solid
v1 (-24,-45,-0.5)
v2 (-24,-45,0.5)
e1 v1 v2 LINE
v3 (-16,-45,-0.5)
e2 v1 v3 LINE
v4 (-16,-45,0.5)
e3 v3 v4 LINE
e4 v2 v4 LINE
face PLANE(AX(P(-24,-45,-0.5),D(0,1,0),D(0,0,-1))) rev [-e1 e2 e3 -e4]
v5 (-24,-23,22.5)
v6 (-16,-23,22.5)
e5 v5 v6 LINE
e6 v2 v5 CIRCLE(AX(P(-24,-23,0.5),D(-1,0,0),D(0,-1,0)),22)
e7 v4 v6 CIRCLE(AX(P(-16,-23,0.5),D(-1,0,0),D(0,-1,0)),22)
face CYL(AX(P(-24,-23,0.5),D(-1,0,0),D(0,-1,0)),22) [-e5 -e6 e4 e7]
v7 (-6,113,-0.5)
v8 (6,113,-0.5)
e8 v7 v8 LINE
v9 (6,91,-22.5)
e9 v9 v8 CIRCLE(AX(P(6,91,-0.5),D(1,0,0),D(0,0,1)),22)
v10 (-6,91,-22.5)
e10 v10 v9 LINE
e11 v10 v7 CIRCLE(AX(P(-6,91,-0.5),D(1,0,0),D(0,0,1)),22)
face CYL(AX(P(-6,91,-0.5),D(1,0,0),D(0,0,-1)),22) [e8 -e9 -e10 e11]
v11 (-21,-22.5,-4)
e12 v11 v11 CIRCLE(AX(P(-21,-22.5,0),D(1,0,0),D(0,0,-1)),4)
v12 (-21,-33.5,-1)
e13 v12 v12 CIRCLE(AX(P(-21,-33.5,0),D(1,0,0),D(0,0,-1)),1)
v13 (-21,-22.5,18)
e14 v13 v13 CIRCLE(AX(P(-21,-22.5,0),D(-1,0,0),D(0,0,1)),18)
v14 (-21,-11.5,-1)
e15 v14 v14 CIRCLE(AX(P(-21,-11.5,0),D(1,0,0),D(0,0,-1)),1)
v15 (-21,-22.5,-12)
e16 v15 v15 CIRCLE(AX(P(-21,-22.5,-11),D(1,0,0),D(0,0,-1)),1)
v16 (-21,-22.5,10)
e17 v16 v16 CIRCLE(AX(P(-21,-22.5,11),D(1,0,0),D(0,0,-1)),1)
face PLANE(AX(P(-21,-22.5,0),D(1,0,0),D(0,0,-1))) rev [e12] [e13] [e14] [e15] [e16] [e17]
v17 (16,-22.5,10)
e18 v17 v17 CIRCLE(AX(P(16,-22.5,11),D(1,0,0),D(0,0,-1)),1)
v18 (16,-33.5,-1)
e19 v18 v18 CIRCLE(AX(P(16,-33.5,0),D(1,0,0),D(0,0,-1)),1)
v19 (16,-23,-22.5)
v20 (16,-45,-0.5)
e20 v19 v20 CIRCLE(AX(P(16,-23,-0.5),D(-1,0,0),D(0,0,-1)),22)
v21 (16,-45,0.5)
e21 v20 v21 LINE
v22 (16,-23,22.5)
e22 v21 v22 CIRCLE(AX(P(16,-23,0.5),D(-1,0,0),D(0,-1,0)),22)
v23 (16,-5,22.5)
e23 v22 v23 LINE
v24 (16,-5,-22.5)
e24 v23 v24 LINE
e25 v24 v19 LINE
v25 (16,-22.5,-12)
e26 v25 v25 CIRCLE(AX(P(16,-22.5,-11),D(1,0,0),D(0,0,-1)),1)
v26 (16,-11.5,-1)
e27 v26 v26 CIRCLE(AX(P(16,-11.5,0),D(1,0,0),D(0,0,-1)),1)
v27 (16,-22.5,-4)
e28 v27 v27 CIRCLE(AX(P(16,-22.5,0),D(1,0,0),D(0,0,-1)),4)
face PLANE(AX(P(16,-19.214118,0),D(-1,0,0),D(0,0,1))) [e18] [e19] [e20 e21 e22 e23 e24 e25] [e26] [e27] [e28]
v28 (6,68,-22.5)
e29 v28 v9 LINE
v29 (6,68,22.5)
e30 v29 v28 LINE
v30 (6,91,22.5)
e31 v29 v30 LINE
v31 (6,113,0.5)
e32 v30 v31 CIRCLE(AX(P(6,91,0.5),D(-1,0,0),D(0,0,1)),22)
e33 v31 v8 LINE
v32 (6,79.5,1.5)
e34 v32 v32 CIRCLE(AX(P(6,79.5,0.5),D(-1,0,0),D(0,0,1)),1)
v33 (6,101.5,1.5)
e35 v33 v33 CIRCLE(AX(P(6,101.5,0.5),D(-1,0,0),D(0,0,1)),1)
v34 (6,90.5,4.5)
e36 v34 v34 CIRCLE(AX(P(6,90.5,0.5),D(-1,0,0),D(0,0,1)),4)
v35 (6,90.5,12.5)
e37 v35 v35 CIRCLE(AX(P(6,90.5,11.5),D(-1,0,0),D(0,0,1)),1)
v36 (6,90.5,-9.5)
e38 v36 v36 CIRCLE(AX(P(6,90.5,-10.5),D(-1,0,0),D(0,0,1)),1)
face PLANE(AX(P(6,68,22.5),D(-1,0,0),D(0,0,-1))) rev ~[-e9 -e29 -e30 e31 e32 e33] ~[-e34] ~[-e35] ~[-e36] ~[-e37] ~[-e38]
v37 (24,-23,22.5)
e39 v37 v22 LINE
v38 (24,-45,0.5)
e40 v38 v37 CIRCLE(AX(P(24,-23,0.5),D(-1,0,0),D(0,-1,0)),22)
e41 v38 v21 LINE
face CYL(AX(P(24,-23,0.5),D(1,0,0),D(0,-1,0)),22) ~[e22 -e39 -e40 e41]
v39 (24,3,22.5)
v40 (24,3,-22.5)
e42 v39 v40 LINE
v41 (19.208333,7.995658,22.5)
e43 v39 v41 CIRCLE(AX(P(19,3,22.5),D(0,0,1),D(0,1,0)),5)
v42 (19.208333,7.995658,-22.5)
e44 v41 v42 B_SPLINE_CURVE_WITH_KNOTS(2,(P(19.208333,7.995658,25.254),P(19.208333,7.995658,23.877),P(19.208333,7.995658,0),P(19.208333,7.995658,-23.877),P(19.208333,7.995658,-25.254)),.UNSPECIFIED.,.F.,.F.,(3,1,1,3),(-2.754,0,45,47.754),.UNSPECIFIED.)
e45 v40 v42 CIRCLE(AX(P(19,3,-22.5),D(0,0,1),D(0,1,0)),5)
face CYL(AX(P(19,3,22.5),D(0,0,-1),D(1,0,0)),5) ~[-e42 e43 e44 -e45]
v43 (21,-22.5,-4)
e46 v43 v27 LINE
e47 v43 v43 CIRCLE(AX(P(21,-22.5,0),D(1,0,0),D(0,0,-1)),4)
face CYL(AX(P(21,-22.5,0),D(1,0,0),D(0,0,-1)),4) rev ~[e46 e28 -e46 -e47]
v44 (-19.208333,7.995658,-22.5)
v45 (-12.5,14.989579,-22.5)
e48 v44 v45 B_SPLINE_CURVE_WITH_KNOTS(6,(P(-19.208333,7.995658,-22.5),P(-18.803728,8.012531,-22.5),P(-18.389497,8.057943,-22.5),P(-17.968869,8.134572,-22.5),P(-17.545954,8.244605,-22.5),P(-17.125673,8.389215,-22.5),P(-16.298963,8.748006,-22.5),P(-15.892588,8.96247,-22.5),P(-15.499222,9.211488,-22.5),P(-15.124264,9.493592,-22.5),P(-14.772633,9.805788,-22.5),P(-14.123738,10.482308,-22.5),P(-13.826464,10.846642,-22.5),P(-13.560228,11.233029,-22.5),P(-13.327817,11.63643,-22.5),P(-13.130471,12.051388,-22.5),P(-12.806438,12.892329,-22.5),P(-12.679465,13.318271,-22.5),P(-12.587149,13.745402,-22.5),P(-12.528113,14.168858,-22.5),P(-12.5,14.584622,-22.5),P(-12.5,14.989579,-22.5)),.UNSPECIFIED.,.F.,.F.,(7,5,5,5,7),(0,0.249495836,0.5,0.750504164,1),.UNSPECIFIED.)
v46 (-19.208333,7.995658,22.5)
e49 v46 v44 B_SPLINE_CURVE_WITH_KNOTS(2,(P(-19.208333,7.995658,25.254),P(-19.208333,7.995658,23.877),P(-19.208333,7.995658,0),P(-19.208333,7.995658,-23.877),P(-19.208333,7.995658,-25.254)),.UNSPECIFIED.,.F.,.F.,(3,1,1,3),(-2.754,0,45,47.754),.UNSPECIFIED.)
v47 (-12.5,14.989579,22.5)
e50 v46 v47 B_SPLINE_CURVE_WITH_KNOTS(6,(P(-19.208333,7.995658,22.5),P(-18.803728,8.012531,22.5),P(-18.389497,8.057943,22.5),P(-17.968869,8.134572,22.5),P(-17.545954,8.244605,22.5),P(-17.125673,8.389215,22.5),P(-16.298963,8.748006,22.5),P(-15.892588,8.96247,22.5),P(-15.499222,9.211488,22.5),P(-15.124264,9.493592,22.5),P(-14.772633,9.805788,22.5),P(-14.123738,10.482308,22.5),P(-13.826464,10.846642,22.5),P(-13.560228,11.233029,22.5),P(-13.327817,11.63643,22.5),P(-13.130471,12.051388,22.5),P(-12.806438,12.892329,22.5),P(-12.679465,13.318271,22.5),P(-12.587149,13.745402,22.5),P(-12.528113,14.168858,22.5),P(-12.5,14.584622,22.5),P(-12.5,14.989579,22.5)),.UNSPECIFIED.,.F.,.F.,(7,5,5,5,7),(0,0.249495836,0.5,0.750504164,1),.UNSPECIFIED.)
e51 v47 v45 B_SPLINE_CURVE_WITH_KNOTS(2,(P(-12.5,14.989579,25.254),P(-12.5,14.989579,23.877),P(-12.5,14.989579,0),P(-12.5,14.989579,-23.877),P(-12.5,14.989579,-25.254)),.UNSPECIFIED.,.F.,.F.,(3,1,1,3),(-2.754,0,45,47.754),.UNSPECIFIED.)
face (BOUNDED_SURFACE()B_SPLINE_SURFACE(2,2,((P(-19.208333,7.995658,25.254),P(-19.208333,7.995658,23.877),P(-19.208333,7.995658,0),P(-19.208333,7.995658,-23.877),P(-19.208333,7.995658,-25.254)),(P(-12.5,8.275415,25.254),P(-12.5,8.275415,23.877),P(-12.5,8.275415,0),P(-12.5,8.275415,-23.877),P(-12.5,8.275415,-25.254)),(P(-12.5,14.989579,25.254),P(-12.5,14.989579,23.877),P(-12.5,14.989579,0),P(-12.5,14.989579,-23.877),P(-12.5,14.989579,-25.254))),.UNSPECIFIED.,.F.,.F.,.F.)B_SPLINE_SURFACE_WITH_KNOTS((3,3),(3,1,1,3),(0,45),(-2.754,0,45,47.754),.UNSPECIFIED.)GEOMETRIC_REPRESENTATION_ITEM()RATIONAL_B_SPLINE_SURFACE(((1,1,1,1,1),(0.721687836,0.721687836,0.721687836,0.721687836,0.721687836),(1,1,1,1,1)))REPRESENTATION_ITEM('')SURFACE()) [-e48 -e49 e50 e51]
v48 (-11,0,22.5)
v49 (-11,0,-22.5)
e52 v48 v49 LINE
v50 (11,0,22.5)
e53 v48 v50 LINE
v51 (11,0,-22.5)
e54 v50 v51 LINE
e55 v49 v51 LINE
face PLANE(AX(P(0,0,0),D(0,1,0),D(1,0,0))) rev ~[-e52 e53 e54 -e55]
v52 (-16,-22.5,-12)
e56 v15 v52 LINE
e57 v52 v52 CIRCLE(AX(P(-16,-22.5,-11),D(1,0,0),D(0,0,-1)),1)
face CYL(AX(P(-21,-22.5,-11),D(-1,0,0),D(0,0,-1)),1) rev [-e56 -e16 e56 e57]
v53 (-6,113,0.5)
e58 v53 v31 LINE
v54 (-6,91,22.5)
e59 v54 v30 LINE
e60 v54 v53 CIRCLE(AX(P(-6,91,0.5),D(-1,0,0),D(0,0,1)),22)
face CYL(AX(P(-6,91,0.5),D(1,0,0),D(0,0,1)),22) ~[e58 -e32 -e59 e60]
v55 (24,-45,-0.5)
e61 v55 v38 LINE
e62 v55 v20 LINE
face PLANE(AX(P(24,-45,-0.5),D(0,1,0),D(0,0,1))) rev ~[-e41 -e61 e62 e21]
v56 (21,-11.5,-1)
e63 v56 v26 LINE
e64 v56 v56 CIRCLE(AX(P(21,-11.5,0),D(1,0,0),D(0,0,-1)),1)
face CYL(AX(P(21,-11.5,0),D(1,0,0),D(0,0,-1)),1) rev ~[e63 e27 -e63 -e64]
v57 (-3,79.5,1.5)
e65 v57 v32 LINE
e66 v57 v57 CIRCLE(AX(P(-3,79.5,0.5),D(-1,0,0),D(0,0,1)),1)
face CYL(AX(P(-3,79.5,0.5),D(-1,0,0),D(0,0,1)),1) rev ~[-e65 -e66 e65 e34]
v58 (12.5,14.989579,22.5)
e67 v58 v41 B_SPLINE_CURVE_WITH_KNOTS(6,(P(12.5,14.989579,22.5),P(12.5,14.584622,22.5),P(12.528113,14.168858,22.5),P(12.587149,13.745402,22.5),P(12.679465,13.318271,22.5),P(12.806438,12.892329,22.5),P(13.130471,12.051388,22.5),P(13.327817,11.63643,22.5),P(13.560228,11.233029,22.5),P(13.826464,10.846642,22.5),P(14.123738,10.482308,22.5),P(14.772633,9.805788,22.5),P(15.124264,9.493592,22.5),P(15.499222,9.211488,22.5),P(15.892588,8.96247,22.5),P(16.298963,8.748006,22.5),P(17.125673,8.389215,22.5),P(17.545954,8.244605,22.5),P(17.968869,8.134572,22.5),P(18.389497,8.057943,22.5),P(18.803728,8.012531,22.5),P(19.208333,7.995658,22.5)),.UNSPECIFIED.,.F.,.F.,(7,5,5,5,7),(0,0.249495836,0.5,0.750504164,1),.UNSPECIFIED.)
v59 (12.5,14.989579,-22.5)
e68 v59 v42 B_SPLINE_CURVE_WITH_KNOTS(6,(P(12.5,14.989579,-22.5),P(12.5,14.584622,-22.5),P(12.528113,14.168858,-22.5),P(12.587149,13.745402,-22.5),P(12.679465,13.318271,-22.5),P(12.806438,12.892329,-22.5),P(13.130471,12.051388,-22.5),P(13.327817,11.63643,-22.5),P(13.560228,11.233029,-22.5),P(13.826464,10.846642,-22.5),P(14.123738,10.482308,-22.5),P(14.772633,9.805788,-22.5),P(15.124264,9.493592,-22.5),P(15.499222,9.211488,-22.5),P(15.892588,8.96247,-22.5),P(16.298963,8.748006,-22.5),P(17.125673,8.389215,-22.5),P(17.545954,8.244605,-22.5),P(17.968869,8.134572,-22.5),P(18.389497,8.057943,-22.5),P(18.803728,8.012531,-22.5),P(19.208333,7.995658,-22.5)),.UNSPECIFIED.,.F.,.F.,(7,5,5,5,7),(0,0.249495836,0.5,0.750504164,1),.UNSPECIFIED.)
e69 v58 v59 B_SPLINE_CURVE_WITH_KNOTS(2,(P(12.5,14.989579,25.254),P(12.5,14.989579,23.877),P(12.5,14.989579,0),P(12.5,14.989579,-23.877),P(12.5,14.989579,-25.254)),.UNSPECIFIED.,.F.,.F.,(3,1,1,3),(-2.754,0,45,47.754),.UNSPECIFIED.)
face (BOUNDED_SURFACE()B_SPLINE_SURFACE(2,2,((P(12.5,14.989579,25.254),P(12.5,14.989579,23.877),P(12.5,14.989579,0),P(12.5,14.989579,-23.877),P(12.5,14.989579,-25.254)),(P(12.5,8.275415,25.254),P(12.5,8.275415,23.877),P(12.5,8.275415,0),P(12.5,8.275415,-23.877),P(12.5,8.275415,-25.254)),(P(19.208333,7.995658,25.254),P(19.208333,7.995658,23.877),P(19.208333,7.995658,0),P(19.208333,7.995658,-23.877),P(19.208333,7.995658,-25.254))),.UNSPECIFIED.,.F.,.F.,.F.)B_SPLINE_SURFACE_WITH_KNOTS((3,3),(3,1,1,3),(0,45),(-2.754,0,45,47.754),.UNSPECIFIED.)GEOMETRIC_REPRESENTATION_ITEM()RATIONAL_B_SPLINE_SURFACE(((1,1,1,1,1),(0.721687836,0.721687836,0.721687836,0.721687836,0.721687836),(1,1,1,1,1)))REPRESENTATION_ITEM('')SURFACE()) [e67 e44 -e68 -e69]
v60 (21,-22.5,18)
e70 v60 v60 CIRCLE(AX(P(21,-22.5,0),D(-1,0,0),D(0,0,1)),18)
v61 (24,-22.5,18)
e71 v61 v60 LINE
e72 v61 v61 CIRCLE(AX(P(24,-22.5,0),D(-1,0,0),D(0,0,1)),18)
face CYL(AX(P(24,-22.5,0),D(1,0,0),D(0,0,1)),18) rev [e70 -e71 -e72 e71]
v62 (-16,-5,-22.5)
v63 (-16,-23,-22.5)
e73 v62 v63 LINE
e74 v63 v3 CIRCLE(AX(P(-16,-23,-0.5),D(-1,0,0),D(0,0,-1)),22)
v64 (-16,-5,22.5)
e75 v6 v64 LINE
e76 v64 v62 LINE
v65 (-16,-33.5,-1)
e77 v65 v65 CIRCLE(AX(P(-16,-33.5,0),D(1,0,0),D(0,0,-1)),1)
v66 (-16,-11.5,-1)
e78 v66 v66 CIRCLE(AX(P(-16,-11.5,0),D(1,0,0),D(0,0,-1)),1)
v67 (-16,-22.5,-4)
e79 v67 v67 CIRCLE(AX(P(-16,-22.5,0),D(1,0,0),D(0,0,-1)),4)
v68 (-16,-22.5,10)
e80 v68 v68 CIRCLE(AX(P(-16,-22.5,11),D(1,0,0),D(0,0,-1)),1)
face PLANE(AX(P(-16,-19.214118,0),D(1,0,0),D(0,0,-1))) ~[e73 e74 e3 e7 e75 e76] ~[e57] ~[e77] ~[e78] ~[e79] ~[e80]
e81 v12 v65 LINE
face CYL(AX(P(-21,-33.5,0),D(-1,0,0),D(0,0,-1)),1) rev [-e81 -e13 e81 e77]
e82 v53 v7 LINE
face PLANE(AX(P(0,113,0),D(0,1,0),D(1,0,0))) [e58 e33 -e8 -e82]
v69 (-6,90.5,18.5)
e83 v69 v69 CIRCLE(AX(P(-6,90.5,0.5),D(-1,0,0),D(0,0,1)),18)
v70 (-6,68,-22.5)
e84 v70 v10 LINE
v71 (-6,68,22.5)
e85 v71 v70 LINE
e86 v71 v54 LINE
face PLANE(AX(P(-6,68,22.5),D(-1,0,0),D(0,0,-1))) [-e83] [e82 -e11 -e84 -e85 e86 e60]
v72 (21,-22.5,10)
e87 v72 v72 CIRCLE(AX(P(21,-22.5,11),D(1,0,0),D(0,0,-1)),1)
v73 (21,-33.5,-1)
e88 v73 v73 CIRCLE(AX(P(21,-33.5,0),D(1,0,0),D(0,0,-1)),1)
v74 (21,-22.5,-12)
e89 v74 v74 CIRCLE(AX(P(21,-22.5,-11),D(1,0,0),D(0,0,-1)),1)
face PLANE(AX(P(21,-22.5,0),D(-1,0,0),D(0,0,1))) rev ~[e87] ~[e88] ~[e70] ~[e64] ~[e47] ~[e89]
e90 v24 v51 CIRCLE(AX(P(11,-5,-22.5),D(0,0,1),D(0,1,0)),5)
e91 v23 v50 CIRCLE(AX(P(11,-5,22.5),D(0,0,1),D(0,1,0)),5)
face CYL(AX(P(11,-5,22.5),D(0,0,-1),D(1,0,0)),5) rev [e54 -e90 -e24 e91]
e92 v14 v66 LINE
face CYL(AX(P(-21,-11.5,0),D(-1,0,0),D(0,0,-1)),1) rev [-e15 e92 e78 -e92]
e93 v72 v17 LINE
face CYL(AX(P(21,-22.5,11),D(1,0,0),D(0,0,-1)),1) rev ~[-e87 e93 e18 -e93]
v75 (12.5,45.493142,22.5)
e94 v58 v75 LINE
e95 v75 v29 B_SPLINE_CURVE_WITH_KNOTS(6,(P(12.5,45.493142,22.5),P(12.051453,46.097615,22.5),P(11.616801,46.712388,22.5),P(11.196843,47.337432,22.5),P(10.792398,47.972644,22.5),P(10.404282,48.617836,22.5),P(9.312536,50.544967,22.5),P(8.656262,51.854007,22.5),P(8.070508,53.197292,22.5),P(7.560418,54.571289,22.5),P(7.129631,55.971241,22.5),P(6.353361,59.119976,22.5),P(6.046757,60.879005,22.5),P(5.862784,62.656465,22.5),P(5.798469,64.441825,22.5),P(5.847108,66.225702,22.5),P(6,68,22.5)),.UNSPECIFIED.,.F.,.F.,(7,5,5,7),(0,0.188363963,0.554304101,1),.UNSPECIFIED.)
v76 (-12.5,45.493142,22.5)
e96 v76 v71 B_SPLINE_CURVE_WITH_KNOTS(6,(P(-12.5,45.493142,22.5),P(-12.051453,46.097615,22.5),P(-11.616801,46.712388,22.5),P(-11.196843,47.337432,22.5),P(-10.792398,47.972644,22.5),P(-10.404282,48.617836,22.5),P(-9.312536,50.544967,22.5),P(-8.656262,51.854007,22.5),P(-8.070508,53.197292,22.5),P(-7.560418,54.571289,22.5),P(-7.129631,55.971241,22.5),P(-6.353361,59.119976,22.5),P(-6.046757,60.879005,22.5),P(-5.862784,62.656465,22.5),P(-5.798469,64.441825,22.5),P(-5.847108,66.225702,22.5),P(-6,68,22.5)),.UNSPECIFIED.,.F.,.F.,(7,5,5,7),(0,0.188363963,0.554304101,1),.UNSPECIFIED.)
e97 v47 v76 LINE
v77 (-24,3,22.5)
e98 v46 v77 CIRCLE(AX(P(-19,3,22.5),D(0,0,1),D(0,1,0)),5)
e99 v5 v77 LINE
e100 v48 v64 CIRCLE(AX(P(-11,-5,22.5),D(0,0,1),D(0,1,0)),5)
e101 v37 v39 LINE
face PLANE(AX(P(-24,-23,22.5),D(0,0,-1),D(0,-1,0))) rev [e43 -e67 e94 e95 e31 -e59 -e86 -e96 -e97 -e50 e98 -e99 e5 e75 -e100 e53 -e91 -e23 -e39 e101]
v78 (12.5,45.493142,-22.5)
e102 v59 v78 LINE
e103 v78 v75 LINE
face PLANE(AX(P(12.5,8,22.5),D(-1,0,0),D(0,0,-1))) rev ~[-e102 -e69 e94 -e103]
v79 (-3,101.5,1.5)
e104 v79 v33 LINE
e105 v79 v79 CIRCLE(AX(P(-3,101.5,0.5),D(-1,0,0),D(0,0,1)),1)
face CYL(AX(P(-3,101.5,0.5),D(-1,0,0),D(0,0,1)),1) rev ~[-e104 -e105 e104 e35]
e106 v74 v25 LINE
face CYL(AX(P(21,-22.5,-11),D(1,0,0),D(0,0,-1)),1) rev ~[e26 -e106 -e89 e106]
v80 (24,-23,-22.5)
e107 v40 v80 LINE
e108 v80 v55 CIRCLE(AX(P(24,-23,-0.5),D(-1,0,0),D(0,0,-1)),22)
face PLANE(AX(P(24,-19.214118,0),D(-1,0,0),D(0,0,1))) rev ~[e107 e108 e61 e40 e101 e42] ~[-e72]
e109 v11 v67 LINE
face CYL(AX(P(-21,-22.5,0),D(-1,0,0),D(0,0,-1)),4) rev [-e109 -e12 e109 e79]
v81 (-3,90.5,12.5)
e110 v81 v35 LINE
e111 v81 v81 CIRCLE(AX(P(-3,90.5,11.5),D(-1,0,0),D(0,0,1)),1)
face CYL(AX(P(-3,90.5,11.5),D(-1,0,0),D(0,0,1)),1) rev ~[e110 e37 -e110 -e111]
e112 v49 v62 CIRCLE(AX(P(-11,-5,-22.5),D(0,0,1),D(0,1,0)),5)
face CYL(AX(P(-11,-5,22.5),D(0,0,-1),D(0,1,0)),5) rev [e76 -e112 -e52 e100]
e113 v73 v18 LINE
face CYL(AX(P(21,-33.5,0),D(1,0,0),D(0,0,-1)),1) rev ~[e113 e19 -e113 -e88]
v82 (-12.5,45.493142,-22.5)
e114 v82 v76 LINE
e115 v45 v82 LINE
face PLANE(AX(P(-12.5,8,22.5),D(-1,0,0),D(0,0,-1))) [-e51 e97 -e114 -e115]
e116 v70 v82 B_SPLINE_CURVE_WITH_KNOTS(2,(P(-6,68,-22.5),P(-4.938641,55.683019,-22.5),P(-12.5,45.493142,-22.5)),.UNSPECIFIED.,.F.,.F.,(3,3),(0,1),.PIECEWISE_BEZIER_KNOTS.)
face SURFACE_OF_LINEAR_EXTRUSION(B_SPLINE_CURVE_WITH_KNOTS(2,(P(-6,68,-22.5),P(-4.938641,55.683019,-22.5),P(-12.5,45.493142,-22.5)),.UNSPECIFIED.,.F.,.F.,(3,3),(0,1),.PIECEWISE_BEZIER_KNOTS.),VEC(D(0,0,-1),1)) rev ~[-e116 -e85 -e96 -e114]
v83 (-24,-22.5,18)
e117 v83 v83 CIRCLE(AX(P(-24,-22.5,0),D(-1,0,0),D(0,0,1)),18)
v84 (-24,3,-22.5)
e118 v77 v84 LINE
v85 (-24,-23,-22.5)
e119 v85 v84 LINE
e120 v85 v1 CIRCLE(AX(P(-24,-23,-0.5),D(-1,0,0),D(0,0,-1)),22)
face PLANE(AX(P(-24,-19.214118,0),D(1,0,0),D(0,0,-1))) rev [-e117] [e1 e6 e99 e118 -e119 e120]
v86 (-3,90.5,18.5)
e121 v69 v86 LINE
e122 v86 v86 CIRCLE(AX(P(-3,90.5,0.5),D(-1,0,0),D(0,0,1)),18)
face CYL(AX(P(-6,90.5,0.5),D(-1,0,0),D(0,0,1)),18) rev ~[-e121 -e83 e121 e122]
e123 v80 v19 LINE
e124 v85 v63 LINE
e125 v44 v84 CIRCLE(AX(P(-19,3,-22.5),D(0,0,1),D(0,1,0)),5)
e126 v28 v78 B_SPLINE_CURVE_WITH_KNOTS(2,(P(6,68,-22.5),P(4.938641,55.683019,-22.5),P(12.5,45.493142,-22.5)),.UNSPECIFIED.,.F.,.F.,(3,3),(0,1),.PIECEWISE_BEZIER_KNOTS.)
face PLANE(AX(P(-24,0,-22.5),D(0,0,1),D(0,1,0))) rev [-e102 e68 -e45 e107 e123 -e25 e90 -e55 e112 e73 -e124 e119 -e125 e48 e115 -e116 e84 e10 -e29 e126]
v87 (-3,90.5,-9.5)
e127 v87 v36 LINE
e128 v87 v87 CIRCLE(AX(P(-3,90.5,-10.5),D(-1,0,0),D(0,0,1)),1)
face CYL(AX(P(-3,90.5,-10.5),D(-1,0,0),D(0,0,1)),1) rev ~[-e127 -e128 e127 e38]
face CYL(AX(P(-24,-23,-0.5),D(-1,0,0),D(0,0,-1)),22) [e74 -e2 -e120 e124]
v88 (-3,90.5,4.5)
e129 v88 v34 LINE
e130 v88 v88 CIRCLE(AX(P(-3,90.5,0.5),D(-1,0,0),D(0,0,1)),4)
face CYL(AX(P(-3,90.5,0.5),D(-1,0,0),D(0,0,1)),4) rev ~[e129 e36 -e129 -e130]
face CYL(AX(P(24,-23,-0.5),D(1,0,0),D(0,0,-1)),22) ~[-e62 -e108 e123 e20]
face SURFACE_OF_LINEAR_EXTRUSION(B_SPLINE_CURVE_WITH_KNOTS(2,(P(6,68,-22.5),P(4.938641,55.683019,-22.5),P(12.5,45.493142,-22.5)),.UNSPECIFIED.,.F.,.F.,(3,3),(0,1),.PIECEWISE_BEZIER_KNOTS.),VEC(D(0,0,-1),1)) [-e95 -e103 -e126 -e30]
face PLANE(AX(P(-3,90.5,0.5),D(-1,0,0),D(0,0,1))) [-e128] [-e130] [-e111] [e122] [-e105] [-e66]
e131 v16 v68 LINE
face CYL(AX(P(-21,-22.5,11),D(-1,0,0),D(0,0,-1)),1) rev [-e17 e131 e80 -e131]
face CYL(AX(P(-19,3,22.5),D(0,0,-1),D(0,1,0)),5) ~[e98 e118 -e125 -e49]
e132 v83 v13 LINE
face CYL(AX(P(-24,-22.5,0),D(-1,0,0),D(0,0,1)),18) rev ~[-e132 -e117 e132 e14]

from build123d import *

# Parameters (mm, degrees)
SKETCH2_W           = 48
SKETCH2_H           = 45
BOSS_EXTRUDE1_DEPTH = 8
BOSS_EXTRUDE2_DEPTH = 8
CUT_EXTRUDE1_START  = -8
SKETCH4_R           = 18
CUT_EXTRUDE1_DEPTH  = 3
SKETCH5_R           = 4
SKETCH5_R_2         = 1
CUT_EXTRUDE2_DEPTH  = 46
SKETCH6_W           = 25
SKETCH6_H           = 45
BOSS_EXTRUDE3_DEPTH = 60
FILLET7_R           = 5
SKETCH7_W           = 12
SKETCH7_H           = 45
BOSS_EXTRUDE4_DEPTH = 45
FILLET10_R          = 22
SKETCH8_R           = 18
CUT_EXTRUDE3_DEPTH  = 3
SKETCH9_R           = 4
SKETCH9_R_2         = 1
CUT_EXTRUDE4_DEPTH  = 28
CUT_EXTRUDE5_DEPTH  = 46
FILLET11_R          = 5
FILLET12_R          = 7


with BuildPart() as part:
    # Sketch2 → Boss-Extrude1 (new body)
    with BuildSketch(Plane(origin=(0, 0, 0), x_dir=(1, 0, 0), z_dir=(0, 1, 0))):
        Rectangle(SKETCH2_W, SKETCH2_H)
    extrude(amount=BOSS_EXTRUDE1_DEPTH)

    # Sketch3 → Boss-Extrude2 (add)
    with BuildSketch(Plane(origin=(24, 0, 0), x_dir=(0, 0, -1), z_dir=(1, 0, 0))):
        with BuildLine():
            Line((-22.5, 0), (22.5, 0))
            Line((22.5, 0), (22.5, -23))
            ThreePointArc((22.5, -23), (16.056349186, -38.556349186), (0.5, -45))
            Line((0.5, -45), (-0.5, -45))
            ThreePointArc((-0.5, -45), (-16.056349186, -38.556349186), (-22.5, -23))
            Line((-22.5, -23), (-22.5, 0))
        make_face()
    extrude(amount=-BOSS_EXTRUDE2_DEPTH)

    # Sketch4 → Cut-Extrude1 (cut)
    with BuildSketch(Plane.ZY.offset(-16).offset(CUT_EXTRUDE1_START)):
        with Locations((0, -22.5)):
            Circle(SKETCH4_R)
    extrude(amount=CUT_EXTRUDE1_DEPTH, mode=Mode.SUBTRACT)

    # Sketch5 → Cut-Extrude2 (cut, through all)
    with BuildSketch(Plane(origin=(21, 0, 0), x_dir=(0, 0, -1), z_dir=(1, 0, 0))):
        with Locations((0, -22.5)):
            Circle(SKETCH5_R)
        with Locations((0, -11.5)):
            Circle(SKETCH5_R_2)
        with Locations((11, -22.5)):
            Circle(SKETCH5_R_2)
        with Locations((0, -33.5)):
            Circle(SKETCH5_R_2)
        with Locations((-11, -22.5)):
            Circle(SKETCH5_R_2)
    extrude(amount=-CUT_EXTRUDE2_DEPTH, mode=Mode.SUBTRACT)

    # Mirror1: part across plane


with BuildPart() as part_1:
    add(part.part)
    add(part.part.mirror(Plane(origin=(0, 0, 0), x_dir=(0, 0, 1), z_dir=(1, 0, 0))))

    # Sketch6 → Boss-Extrude3 (add)
    with BuildSketch(Plane(origin=(0, 8, 0), x_dir=(1, 0, 0), z_dir=(0, 1, 0))):
        Rectangle(SKETCH6_W, SKETCH6_H)
    extrude(amount=BOSS_EXTRUDE3_DEPTH)

    # Fillet7
    fillet7_edges = [part_1.edges().sort_by_distance(p)[0] for p in [
        (16, 0, 0),
        (-16, 0, 0),
    ]]
    fillet(fillet7_edges, radius=FILLET7_R)

    # Sketch7 → Boss-Extrude4 (add)
    with BuildSketch(Plane(origin=(0, 68, 0), x_dir=(1, 0, 0), z_dir=(0, 1, 0))):
        Rectangle(SKETCH7_W, SKETCH7_H)
    extrude(amount=BOSS_EXTRUDE4_DEPTH)

    # Fillet10
    fillet10_edges = [part_1.edges().sort_by_distance(p)[0] for p in [
        (0, 113, -22.5),
        (0, 113, 22.5),
    ]]
    fillet(fillet10_edges, radius=FILLET10_R)

    # Sketch8 → Cut-Extrude3 (cut)
    with BuildSketch(Plane.ZY.offset(6)):
        with Locations((0.5, 90.5)):
            Circle(SKETCH8_R)
    extrude(amount=-CUT_EXTRUDE3_DEPTH, mode=Mode.SUBTRACT)

    # Sketch9 → Cut-Extrude4 (cut, through all)
    with BuildSketch(Plane.ZY.offset(3)):
        with Locations((0.5, 90.5)):
            Circle(SKETCH9_R)
        with Locations((0.5, 101.5)):
            Circle(SKETCH9_R_2)
        with Locations((11.5, 90.5)):
            Circle(SKETCH9_R_2)
        with Locations((0.5, 79.5)):
            Circle(SKETCH9_R_2)
        with Locations((-10.5, 90.5)):
            Circle(SKETCH9_R_2)
    extrude(amount=-CUT_EXTRUDE4_DEPTH, mode=Mode.SUBTRACT)

    # Sketch10 → Cut-Extrude5 (cut, through all)
    with BuildSketch(Plane(origin=(0, 0, -22.5), x_dir=(-1, 0, 0), z_dir=(0, 0, -1))):
        with BuildLine():
            Line((12.5, 68), (6, 68))
            add(Edge.make_bspline(
                [(6, 68), (4.938641011, 55.683018677), (12.5, 45.493141657)],
                knots=[0, 0, 0, 1, 1, 1], degree=2))
            Line((12.5, 45.493141657), (12.5, 68))
        make_face()
        with BuildLine():
            Line((-6, 68), (-12.5, 68))
            Line((-12.5, 68), (-12.5, 45.493141657))
            add(Edge.make_bspline(
                [(-6, 68), (-4.938641011, 55.683018677), (-12.5, 45.493141657)],
                knots=[0, 0, 0, 1, 1, 1], degree=2))
        make_face()
    extrude(amount=-CUT_EXTRUDE5_DEPTH, mode=Mode.SUBTRACT)

    # Fillet11
    fillet11_edges = [part_1.edges().sort_by_distance(p)[0] for p in [
        (24, 8, 0),
        (-24, 8, 0),
    ]]
    fillet(fillet11_edges, radius=FILLET11_R)

    # Fillet12
    fillet12_edges = [part_1.edges().sort_by_distance(p)[0] for p in [
        (-12.5, 8, 0),
        (12.5, 8, 0),
    ]]
    fillet(fillet12_edges, radius=FILLET12_R)


solid = part_1.part
